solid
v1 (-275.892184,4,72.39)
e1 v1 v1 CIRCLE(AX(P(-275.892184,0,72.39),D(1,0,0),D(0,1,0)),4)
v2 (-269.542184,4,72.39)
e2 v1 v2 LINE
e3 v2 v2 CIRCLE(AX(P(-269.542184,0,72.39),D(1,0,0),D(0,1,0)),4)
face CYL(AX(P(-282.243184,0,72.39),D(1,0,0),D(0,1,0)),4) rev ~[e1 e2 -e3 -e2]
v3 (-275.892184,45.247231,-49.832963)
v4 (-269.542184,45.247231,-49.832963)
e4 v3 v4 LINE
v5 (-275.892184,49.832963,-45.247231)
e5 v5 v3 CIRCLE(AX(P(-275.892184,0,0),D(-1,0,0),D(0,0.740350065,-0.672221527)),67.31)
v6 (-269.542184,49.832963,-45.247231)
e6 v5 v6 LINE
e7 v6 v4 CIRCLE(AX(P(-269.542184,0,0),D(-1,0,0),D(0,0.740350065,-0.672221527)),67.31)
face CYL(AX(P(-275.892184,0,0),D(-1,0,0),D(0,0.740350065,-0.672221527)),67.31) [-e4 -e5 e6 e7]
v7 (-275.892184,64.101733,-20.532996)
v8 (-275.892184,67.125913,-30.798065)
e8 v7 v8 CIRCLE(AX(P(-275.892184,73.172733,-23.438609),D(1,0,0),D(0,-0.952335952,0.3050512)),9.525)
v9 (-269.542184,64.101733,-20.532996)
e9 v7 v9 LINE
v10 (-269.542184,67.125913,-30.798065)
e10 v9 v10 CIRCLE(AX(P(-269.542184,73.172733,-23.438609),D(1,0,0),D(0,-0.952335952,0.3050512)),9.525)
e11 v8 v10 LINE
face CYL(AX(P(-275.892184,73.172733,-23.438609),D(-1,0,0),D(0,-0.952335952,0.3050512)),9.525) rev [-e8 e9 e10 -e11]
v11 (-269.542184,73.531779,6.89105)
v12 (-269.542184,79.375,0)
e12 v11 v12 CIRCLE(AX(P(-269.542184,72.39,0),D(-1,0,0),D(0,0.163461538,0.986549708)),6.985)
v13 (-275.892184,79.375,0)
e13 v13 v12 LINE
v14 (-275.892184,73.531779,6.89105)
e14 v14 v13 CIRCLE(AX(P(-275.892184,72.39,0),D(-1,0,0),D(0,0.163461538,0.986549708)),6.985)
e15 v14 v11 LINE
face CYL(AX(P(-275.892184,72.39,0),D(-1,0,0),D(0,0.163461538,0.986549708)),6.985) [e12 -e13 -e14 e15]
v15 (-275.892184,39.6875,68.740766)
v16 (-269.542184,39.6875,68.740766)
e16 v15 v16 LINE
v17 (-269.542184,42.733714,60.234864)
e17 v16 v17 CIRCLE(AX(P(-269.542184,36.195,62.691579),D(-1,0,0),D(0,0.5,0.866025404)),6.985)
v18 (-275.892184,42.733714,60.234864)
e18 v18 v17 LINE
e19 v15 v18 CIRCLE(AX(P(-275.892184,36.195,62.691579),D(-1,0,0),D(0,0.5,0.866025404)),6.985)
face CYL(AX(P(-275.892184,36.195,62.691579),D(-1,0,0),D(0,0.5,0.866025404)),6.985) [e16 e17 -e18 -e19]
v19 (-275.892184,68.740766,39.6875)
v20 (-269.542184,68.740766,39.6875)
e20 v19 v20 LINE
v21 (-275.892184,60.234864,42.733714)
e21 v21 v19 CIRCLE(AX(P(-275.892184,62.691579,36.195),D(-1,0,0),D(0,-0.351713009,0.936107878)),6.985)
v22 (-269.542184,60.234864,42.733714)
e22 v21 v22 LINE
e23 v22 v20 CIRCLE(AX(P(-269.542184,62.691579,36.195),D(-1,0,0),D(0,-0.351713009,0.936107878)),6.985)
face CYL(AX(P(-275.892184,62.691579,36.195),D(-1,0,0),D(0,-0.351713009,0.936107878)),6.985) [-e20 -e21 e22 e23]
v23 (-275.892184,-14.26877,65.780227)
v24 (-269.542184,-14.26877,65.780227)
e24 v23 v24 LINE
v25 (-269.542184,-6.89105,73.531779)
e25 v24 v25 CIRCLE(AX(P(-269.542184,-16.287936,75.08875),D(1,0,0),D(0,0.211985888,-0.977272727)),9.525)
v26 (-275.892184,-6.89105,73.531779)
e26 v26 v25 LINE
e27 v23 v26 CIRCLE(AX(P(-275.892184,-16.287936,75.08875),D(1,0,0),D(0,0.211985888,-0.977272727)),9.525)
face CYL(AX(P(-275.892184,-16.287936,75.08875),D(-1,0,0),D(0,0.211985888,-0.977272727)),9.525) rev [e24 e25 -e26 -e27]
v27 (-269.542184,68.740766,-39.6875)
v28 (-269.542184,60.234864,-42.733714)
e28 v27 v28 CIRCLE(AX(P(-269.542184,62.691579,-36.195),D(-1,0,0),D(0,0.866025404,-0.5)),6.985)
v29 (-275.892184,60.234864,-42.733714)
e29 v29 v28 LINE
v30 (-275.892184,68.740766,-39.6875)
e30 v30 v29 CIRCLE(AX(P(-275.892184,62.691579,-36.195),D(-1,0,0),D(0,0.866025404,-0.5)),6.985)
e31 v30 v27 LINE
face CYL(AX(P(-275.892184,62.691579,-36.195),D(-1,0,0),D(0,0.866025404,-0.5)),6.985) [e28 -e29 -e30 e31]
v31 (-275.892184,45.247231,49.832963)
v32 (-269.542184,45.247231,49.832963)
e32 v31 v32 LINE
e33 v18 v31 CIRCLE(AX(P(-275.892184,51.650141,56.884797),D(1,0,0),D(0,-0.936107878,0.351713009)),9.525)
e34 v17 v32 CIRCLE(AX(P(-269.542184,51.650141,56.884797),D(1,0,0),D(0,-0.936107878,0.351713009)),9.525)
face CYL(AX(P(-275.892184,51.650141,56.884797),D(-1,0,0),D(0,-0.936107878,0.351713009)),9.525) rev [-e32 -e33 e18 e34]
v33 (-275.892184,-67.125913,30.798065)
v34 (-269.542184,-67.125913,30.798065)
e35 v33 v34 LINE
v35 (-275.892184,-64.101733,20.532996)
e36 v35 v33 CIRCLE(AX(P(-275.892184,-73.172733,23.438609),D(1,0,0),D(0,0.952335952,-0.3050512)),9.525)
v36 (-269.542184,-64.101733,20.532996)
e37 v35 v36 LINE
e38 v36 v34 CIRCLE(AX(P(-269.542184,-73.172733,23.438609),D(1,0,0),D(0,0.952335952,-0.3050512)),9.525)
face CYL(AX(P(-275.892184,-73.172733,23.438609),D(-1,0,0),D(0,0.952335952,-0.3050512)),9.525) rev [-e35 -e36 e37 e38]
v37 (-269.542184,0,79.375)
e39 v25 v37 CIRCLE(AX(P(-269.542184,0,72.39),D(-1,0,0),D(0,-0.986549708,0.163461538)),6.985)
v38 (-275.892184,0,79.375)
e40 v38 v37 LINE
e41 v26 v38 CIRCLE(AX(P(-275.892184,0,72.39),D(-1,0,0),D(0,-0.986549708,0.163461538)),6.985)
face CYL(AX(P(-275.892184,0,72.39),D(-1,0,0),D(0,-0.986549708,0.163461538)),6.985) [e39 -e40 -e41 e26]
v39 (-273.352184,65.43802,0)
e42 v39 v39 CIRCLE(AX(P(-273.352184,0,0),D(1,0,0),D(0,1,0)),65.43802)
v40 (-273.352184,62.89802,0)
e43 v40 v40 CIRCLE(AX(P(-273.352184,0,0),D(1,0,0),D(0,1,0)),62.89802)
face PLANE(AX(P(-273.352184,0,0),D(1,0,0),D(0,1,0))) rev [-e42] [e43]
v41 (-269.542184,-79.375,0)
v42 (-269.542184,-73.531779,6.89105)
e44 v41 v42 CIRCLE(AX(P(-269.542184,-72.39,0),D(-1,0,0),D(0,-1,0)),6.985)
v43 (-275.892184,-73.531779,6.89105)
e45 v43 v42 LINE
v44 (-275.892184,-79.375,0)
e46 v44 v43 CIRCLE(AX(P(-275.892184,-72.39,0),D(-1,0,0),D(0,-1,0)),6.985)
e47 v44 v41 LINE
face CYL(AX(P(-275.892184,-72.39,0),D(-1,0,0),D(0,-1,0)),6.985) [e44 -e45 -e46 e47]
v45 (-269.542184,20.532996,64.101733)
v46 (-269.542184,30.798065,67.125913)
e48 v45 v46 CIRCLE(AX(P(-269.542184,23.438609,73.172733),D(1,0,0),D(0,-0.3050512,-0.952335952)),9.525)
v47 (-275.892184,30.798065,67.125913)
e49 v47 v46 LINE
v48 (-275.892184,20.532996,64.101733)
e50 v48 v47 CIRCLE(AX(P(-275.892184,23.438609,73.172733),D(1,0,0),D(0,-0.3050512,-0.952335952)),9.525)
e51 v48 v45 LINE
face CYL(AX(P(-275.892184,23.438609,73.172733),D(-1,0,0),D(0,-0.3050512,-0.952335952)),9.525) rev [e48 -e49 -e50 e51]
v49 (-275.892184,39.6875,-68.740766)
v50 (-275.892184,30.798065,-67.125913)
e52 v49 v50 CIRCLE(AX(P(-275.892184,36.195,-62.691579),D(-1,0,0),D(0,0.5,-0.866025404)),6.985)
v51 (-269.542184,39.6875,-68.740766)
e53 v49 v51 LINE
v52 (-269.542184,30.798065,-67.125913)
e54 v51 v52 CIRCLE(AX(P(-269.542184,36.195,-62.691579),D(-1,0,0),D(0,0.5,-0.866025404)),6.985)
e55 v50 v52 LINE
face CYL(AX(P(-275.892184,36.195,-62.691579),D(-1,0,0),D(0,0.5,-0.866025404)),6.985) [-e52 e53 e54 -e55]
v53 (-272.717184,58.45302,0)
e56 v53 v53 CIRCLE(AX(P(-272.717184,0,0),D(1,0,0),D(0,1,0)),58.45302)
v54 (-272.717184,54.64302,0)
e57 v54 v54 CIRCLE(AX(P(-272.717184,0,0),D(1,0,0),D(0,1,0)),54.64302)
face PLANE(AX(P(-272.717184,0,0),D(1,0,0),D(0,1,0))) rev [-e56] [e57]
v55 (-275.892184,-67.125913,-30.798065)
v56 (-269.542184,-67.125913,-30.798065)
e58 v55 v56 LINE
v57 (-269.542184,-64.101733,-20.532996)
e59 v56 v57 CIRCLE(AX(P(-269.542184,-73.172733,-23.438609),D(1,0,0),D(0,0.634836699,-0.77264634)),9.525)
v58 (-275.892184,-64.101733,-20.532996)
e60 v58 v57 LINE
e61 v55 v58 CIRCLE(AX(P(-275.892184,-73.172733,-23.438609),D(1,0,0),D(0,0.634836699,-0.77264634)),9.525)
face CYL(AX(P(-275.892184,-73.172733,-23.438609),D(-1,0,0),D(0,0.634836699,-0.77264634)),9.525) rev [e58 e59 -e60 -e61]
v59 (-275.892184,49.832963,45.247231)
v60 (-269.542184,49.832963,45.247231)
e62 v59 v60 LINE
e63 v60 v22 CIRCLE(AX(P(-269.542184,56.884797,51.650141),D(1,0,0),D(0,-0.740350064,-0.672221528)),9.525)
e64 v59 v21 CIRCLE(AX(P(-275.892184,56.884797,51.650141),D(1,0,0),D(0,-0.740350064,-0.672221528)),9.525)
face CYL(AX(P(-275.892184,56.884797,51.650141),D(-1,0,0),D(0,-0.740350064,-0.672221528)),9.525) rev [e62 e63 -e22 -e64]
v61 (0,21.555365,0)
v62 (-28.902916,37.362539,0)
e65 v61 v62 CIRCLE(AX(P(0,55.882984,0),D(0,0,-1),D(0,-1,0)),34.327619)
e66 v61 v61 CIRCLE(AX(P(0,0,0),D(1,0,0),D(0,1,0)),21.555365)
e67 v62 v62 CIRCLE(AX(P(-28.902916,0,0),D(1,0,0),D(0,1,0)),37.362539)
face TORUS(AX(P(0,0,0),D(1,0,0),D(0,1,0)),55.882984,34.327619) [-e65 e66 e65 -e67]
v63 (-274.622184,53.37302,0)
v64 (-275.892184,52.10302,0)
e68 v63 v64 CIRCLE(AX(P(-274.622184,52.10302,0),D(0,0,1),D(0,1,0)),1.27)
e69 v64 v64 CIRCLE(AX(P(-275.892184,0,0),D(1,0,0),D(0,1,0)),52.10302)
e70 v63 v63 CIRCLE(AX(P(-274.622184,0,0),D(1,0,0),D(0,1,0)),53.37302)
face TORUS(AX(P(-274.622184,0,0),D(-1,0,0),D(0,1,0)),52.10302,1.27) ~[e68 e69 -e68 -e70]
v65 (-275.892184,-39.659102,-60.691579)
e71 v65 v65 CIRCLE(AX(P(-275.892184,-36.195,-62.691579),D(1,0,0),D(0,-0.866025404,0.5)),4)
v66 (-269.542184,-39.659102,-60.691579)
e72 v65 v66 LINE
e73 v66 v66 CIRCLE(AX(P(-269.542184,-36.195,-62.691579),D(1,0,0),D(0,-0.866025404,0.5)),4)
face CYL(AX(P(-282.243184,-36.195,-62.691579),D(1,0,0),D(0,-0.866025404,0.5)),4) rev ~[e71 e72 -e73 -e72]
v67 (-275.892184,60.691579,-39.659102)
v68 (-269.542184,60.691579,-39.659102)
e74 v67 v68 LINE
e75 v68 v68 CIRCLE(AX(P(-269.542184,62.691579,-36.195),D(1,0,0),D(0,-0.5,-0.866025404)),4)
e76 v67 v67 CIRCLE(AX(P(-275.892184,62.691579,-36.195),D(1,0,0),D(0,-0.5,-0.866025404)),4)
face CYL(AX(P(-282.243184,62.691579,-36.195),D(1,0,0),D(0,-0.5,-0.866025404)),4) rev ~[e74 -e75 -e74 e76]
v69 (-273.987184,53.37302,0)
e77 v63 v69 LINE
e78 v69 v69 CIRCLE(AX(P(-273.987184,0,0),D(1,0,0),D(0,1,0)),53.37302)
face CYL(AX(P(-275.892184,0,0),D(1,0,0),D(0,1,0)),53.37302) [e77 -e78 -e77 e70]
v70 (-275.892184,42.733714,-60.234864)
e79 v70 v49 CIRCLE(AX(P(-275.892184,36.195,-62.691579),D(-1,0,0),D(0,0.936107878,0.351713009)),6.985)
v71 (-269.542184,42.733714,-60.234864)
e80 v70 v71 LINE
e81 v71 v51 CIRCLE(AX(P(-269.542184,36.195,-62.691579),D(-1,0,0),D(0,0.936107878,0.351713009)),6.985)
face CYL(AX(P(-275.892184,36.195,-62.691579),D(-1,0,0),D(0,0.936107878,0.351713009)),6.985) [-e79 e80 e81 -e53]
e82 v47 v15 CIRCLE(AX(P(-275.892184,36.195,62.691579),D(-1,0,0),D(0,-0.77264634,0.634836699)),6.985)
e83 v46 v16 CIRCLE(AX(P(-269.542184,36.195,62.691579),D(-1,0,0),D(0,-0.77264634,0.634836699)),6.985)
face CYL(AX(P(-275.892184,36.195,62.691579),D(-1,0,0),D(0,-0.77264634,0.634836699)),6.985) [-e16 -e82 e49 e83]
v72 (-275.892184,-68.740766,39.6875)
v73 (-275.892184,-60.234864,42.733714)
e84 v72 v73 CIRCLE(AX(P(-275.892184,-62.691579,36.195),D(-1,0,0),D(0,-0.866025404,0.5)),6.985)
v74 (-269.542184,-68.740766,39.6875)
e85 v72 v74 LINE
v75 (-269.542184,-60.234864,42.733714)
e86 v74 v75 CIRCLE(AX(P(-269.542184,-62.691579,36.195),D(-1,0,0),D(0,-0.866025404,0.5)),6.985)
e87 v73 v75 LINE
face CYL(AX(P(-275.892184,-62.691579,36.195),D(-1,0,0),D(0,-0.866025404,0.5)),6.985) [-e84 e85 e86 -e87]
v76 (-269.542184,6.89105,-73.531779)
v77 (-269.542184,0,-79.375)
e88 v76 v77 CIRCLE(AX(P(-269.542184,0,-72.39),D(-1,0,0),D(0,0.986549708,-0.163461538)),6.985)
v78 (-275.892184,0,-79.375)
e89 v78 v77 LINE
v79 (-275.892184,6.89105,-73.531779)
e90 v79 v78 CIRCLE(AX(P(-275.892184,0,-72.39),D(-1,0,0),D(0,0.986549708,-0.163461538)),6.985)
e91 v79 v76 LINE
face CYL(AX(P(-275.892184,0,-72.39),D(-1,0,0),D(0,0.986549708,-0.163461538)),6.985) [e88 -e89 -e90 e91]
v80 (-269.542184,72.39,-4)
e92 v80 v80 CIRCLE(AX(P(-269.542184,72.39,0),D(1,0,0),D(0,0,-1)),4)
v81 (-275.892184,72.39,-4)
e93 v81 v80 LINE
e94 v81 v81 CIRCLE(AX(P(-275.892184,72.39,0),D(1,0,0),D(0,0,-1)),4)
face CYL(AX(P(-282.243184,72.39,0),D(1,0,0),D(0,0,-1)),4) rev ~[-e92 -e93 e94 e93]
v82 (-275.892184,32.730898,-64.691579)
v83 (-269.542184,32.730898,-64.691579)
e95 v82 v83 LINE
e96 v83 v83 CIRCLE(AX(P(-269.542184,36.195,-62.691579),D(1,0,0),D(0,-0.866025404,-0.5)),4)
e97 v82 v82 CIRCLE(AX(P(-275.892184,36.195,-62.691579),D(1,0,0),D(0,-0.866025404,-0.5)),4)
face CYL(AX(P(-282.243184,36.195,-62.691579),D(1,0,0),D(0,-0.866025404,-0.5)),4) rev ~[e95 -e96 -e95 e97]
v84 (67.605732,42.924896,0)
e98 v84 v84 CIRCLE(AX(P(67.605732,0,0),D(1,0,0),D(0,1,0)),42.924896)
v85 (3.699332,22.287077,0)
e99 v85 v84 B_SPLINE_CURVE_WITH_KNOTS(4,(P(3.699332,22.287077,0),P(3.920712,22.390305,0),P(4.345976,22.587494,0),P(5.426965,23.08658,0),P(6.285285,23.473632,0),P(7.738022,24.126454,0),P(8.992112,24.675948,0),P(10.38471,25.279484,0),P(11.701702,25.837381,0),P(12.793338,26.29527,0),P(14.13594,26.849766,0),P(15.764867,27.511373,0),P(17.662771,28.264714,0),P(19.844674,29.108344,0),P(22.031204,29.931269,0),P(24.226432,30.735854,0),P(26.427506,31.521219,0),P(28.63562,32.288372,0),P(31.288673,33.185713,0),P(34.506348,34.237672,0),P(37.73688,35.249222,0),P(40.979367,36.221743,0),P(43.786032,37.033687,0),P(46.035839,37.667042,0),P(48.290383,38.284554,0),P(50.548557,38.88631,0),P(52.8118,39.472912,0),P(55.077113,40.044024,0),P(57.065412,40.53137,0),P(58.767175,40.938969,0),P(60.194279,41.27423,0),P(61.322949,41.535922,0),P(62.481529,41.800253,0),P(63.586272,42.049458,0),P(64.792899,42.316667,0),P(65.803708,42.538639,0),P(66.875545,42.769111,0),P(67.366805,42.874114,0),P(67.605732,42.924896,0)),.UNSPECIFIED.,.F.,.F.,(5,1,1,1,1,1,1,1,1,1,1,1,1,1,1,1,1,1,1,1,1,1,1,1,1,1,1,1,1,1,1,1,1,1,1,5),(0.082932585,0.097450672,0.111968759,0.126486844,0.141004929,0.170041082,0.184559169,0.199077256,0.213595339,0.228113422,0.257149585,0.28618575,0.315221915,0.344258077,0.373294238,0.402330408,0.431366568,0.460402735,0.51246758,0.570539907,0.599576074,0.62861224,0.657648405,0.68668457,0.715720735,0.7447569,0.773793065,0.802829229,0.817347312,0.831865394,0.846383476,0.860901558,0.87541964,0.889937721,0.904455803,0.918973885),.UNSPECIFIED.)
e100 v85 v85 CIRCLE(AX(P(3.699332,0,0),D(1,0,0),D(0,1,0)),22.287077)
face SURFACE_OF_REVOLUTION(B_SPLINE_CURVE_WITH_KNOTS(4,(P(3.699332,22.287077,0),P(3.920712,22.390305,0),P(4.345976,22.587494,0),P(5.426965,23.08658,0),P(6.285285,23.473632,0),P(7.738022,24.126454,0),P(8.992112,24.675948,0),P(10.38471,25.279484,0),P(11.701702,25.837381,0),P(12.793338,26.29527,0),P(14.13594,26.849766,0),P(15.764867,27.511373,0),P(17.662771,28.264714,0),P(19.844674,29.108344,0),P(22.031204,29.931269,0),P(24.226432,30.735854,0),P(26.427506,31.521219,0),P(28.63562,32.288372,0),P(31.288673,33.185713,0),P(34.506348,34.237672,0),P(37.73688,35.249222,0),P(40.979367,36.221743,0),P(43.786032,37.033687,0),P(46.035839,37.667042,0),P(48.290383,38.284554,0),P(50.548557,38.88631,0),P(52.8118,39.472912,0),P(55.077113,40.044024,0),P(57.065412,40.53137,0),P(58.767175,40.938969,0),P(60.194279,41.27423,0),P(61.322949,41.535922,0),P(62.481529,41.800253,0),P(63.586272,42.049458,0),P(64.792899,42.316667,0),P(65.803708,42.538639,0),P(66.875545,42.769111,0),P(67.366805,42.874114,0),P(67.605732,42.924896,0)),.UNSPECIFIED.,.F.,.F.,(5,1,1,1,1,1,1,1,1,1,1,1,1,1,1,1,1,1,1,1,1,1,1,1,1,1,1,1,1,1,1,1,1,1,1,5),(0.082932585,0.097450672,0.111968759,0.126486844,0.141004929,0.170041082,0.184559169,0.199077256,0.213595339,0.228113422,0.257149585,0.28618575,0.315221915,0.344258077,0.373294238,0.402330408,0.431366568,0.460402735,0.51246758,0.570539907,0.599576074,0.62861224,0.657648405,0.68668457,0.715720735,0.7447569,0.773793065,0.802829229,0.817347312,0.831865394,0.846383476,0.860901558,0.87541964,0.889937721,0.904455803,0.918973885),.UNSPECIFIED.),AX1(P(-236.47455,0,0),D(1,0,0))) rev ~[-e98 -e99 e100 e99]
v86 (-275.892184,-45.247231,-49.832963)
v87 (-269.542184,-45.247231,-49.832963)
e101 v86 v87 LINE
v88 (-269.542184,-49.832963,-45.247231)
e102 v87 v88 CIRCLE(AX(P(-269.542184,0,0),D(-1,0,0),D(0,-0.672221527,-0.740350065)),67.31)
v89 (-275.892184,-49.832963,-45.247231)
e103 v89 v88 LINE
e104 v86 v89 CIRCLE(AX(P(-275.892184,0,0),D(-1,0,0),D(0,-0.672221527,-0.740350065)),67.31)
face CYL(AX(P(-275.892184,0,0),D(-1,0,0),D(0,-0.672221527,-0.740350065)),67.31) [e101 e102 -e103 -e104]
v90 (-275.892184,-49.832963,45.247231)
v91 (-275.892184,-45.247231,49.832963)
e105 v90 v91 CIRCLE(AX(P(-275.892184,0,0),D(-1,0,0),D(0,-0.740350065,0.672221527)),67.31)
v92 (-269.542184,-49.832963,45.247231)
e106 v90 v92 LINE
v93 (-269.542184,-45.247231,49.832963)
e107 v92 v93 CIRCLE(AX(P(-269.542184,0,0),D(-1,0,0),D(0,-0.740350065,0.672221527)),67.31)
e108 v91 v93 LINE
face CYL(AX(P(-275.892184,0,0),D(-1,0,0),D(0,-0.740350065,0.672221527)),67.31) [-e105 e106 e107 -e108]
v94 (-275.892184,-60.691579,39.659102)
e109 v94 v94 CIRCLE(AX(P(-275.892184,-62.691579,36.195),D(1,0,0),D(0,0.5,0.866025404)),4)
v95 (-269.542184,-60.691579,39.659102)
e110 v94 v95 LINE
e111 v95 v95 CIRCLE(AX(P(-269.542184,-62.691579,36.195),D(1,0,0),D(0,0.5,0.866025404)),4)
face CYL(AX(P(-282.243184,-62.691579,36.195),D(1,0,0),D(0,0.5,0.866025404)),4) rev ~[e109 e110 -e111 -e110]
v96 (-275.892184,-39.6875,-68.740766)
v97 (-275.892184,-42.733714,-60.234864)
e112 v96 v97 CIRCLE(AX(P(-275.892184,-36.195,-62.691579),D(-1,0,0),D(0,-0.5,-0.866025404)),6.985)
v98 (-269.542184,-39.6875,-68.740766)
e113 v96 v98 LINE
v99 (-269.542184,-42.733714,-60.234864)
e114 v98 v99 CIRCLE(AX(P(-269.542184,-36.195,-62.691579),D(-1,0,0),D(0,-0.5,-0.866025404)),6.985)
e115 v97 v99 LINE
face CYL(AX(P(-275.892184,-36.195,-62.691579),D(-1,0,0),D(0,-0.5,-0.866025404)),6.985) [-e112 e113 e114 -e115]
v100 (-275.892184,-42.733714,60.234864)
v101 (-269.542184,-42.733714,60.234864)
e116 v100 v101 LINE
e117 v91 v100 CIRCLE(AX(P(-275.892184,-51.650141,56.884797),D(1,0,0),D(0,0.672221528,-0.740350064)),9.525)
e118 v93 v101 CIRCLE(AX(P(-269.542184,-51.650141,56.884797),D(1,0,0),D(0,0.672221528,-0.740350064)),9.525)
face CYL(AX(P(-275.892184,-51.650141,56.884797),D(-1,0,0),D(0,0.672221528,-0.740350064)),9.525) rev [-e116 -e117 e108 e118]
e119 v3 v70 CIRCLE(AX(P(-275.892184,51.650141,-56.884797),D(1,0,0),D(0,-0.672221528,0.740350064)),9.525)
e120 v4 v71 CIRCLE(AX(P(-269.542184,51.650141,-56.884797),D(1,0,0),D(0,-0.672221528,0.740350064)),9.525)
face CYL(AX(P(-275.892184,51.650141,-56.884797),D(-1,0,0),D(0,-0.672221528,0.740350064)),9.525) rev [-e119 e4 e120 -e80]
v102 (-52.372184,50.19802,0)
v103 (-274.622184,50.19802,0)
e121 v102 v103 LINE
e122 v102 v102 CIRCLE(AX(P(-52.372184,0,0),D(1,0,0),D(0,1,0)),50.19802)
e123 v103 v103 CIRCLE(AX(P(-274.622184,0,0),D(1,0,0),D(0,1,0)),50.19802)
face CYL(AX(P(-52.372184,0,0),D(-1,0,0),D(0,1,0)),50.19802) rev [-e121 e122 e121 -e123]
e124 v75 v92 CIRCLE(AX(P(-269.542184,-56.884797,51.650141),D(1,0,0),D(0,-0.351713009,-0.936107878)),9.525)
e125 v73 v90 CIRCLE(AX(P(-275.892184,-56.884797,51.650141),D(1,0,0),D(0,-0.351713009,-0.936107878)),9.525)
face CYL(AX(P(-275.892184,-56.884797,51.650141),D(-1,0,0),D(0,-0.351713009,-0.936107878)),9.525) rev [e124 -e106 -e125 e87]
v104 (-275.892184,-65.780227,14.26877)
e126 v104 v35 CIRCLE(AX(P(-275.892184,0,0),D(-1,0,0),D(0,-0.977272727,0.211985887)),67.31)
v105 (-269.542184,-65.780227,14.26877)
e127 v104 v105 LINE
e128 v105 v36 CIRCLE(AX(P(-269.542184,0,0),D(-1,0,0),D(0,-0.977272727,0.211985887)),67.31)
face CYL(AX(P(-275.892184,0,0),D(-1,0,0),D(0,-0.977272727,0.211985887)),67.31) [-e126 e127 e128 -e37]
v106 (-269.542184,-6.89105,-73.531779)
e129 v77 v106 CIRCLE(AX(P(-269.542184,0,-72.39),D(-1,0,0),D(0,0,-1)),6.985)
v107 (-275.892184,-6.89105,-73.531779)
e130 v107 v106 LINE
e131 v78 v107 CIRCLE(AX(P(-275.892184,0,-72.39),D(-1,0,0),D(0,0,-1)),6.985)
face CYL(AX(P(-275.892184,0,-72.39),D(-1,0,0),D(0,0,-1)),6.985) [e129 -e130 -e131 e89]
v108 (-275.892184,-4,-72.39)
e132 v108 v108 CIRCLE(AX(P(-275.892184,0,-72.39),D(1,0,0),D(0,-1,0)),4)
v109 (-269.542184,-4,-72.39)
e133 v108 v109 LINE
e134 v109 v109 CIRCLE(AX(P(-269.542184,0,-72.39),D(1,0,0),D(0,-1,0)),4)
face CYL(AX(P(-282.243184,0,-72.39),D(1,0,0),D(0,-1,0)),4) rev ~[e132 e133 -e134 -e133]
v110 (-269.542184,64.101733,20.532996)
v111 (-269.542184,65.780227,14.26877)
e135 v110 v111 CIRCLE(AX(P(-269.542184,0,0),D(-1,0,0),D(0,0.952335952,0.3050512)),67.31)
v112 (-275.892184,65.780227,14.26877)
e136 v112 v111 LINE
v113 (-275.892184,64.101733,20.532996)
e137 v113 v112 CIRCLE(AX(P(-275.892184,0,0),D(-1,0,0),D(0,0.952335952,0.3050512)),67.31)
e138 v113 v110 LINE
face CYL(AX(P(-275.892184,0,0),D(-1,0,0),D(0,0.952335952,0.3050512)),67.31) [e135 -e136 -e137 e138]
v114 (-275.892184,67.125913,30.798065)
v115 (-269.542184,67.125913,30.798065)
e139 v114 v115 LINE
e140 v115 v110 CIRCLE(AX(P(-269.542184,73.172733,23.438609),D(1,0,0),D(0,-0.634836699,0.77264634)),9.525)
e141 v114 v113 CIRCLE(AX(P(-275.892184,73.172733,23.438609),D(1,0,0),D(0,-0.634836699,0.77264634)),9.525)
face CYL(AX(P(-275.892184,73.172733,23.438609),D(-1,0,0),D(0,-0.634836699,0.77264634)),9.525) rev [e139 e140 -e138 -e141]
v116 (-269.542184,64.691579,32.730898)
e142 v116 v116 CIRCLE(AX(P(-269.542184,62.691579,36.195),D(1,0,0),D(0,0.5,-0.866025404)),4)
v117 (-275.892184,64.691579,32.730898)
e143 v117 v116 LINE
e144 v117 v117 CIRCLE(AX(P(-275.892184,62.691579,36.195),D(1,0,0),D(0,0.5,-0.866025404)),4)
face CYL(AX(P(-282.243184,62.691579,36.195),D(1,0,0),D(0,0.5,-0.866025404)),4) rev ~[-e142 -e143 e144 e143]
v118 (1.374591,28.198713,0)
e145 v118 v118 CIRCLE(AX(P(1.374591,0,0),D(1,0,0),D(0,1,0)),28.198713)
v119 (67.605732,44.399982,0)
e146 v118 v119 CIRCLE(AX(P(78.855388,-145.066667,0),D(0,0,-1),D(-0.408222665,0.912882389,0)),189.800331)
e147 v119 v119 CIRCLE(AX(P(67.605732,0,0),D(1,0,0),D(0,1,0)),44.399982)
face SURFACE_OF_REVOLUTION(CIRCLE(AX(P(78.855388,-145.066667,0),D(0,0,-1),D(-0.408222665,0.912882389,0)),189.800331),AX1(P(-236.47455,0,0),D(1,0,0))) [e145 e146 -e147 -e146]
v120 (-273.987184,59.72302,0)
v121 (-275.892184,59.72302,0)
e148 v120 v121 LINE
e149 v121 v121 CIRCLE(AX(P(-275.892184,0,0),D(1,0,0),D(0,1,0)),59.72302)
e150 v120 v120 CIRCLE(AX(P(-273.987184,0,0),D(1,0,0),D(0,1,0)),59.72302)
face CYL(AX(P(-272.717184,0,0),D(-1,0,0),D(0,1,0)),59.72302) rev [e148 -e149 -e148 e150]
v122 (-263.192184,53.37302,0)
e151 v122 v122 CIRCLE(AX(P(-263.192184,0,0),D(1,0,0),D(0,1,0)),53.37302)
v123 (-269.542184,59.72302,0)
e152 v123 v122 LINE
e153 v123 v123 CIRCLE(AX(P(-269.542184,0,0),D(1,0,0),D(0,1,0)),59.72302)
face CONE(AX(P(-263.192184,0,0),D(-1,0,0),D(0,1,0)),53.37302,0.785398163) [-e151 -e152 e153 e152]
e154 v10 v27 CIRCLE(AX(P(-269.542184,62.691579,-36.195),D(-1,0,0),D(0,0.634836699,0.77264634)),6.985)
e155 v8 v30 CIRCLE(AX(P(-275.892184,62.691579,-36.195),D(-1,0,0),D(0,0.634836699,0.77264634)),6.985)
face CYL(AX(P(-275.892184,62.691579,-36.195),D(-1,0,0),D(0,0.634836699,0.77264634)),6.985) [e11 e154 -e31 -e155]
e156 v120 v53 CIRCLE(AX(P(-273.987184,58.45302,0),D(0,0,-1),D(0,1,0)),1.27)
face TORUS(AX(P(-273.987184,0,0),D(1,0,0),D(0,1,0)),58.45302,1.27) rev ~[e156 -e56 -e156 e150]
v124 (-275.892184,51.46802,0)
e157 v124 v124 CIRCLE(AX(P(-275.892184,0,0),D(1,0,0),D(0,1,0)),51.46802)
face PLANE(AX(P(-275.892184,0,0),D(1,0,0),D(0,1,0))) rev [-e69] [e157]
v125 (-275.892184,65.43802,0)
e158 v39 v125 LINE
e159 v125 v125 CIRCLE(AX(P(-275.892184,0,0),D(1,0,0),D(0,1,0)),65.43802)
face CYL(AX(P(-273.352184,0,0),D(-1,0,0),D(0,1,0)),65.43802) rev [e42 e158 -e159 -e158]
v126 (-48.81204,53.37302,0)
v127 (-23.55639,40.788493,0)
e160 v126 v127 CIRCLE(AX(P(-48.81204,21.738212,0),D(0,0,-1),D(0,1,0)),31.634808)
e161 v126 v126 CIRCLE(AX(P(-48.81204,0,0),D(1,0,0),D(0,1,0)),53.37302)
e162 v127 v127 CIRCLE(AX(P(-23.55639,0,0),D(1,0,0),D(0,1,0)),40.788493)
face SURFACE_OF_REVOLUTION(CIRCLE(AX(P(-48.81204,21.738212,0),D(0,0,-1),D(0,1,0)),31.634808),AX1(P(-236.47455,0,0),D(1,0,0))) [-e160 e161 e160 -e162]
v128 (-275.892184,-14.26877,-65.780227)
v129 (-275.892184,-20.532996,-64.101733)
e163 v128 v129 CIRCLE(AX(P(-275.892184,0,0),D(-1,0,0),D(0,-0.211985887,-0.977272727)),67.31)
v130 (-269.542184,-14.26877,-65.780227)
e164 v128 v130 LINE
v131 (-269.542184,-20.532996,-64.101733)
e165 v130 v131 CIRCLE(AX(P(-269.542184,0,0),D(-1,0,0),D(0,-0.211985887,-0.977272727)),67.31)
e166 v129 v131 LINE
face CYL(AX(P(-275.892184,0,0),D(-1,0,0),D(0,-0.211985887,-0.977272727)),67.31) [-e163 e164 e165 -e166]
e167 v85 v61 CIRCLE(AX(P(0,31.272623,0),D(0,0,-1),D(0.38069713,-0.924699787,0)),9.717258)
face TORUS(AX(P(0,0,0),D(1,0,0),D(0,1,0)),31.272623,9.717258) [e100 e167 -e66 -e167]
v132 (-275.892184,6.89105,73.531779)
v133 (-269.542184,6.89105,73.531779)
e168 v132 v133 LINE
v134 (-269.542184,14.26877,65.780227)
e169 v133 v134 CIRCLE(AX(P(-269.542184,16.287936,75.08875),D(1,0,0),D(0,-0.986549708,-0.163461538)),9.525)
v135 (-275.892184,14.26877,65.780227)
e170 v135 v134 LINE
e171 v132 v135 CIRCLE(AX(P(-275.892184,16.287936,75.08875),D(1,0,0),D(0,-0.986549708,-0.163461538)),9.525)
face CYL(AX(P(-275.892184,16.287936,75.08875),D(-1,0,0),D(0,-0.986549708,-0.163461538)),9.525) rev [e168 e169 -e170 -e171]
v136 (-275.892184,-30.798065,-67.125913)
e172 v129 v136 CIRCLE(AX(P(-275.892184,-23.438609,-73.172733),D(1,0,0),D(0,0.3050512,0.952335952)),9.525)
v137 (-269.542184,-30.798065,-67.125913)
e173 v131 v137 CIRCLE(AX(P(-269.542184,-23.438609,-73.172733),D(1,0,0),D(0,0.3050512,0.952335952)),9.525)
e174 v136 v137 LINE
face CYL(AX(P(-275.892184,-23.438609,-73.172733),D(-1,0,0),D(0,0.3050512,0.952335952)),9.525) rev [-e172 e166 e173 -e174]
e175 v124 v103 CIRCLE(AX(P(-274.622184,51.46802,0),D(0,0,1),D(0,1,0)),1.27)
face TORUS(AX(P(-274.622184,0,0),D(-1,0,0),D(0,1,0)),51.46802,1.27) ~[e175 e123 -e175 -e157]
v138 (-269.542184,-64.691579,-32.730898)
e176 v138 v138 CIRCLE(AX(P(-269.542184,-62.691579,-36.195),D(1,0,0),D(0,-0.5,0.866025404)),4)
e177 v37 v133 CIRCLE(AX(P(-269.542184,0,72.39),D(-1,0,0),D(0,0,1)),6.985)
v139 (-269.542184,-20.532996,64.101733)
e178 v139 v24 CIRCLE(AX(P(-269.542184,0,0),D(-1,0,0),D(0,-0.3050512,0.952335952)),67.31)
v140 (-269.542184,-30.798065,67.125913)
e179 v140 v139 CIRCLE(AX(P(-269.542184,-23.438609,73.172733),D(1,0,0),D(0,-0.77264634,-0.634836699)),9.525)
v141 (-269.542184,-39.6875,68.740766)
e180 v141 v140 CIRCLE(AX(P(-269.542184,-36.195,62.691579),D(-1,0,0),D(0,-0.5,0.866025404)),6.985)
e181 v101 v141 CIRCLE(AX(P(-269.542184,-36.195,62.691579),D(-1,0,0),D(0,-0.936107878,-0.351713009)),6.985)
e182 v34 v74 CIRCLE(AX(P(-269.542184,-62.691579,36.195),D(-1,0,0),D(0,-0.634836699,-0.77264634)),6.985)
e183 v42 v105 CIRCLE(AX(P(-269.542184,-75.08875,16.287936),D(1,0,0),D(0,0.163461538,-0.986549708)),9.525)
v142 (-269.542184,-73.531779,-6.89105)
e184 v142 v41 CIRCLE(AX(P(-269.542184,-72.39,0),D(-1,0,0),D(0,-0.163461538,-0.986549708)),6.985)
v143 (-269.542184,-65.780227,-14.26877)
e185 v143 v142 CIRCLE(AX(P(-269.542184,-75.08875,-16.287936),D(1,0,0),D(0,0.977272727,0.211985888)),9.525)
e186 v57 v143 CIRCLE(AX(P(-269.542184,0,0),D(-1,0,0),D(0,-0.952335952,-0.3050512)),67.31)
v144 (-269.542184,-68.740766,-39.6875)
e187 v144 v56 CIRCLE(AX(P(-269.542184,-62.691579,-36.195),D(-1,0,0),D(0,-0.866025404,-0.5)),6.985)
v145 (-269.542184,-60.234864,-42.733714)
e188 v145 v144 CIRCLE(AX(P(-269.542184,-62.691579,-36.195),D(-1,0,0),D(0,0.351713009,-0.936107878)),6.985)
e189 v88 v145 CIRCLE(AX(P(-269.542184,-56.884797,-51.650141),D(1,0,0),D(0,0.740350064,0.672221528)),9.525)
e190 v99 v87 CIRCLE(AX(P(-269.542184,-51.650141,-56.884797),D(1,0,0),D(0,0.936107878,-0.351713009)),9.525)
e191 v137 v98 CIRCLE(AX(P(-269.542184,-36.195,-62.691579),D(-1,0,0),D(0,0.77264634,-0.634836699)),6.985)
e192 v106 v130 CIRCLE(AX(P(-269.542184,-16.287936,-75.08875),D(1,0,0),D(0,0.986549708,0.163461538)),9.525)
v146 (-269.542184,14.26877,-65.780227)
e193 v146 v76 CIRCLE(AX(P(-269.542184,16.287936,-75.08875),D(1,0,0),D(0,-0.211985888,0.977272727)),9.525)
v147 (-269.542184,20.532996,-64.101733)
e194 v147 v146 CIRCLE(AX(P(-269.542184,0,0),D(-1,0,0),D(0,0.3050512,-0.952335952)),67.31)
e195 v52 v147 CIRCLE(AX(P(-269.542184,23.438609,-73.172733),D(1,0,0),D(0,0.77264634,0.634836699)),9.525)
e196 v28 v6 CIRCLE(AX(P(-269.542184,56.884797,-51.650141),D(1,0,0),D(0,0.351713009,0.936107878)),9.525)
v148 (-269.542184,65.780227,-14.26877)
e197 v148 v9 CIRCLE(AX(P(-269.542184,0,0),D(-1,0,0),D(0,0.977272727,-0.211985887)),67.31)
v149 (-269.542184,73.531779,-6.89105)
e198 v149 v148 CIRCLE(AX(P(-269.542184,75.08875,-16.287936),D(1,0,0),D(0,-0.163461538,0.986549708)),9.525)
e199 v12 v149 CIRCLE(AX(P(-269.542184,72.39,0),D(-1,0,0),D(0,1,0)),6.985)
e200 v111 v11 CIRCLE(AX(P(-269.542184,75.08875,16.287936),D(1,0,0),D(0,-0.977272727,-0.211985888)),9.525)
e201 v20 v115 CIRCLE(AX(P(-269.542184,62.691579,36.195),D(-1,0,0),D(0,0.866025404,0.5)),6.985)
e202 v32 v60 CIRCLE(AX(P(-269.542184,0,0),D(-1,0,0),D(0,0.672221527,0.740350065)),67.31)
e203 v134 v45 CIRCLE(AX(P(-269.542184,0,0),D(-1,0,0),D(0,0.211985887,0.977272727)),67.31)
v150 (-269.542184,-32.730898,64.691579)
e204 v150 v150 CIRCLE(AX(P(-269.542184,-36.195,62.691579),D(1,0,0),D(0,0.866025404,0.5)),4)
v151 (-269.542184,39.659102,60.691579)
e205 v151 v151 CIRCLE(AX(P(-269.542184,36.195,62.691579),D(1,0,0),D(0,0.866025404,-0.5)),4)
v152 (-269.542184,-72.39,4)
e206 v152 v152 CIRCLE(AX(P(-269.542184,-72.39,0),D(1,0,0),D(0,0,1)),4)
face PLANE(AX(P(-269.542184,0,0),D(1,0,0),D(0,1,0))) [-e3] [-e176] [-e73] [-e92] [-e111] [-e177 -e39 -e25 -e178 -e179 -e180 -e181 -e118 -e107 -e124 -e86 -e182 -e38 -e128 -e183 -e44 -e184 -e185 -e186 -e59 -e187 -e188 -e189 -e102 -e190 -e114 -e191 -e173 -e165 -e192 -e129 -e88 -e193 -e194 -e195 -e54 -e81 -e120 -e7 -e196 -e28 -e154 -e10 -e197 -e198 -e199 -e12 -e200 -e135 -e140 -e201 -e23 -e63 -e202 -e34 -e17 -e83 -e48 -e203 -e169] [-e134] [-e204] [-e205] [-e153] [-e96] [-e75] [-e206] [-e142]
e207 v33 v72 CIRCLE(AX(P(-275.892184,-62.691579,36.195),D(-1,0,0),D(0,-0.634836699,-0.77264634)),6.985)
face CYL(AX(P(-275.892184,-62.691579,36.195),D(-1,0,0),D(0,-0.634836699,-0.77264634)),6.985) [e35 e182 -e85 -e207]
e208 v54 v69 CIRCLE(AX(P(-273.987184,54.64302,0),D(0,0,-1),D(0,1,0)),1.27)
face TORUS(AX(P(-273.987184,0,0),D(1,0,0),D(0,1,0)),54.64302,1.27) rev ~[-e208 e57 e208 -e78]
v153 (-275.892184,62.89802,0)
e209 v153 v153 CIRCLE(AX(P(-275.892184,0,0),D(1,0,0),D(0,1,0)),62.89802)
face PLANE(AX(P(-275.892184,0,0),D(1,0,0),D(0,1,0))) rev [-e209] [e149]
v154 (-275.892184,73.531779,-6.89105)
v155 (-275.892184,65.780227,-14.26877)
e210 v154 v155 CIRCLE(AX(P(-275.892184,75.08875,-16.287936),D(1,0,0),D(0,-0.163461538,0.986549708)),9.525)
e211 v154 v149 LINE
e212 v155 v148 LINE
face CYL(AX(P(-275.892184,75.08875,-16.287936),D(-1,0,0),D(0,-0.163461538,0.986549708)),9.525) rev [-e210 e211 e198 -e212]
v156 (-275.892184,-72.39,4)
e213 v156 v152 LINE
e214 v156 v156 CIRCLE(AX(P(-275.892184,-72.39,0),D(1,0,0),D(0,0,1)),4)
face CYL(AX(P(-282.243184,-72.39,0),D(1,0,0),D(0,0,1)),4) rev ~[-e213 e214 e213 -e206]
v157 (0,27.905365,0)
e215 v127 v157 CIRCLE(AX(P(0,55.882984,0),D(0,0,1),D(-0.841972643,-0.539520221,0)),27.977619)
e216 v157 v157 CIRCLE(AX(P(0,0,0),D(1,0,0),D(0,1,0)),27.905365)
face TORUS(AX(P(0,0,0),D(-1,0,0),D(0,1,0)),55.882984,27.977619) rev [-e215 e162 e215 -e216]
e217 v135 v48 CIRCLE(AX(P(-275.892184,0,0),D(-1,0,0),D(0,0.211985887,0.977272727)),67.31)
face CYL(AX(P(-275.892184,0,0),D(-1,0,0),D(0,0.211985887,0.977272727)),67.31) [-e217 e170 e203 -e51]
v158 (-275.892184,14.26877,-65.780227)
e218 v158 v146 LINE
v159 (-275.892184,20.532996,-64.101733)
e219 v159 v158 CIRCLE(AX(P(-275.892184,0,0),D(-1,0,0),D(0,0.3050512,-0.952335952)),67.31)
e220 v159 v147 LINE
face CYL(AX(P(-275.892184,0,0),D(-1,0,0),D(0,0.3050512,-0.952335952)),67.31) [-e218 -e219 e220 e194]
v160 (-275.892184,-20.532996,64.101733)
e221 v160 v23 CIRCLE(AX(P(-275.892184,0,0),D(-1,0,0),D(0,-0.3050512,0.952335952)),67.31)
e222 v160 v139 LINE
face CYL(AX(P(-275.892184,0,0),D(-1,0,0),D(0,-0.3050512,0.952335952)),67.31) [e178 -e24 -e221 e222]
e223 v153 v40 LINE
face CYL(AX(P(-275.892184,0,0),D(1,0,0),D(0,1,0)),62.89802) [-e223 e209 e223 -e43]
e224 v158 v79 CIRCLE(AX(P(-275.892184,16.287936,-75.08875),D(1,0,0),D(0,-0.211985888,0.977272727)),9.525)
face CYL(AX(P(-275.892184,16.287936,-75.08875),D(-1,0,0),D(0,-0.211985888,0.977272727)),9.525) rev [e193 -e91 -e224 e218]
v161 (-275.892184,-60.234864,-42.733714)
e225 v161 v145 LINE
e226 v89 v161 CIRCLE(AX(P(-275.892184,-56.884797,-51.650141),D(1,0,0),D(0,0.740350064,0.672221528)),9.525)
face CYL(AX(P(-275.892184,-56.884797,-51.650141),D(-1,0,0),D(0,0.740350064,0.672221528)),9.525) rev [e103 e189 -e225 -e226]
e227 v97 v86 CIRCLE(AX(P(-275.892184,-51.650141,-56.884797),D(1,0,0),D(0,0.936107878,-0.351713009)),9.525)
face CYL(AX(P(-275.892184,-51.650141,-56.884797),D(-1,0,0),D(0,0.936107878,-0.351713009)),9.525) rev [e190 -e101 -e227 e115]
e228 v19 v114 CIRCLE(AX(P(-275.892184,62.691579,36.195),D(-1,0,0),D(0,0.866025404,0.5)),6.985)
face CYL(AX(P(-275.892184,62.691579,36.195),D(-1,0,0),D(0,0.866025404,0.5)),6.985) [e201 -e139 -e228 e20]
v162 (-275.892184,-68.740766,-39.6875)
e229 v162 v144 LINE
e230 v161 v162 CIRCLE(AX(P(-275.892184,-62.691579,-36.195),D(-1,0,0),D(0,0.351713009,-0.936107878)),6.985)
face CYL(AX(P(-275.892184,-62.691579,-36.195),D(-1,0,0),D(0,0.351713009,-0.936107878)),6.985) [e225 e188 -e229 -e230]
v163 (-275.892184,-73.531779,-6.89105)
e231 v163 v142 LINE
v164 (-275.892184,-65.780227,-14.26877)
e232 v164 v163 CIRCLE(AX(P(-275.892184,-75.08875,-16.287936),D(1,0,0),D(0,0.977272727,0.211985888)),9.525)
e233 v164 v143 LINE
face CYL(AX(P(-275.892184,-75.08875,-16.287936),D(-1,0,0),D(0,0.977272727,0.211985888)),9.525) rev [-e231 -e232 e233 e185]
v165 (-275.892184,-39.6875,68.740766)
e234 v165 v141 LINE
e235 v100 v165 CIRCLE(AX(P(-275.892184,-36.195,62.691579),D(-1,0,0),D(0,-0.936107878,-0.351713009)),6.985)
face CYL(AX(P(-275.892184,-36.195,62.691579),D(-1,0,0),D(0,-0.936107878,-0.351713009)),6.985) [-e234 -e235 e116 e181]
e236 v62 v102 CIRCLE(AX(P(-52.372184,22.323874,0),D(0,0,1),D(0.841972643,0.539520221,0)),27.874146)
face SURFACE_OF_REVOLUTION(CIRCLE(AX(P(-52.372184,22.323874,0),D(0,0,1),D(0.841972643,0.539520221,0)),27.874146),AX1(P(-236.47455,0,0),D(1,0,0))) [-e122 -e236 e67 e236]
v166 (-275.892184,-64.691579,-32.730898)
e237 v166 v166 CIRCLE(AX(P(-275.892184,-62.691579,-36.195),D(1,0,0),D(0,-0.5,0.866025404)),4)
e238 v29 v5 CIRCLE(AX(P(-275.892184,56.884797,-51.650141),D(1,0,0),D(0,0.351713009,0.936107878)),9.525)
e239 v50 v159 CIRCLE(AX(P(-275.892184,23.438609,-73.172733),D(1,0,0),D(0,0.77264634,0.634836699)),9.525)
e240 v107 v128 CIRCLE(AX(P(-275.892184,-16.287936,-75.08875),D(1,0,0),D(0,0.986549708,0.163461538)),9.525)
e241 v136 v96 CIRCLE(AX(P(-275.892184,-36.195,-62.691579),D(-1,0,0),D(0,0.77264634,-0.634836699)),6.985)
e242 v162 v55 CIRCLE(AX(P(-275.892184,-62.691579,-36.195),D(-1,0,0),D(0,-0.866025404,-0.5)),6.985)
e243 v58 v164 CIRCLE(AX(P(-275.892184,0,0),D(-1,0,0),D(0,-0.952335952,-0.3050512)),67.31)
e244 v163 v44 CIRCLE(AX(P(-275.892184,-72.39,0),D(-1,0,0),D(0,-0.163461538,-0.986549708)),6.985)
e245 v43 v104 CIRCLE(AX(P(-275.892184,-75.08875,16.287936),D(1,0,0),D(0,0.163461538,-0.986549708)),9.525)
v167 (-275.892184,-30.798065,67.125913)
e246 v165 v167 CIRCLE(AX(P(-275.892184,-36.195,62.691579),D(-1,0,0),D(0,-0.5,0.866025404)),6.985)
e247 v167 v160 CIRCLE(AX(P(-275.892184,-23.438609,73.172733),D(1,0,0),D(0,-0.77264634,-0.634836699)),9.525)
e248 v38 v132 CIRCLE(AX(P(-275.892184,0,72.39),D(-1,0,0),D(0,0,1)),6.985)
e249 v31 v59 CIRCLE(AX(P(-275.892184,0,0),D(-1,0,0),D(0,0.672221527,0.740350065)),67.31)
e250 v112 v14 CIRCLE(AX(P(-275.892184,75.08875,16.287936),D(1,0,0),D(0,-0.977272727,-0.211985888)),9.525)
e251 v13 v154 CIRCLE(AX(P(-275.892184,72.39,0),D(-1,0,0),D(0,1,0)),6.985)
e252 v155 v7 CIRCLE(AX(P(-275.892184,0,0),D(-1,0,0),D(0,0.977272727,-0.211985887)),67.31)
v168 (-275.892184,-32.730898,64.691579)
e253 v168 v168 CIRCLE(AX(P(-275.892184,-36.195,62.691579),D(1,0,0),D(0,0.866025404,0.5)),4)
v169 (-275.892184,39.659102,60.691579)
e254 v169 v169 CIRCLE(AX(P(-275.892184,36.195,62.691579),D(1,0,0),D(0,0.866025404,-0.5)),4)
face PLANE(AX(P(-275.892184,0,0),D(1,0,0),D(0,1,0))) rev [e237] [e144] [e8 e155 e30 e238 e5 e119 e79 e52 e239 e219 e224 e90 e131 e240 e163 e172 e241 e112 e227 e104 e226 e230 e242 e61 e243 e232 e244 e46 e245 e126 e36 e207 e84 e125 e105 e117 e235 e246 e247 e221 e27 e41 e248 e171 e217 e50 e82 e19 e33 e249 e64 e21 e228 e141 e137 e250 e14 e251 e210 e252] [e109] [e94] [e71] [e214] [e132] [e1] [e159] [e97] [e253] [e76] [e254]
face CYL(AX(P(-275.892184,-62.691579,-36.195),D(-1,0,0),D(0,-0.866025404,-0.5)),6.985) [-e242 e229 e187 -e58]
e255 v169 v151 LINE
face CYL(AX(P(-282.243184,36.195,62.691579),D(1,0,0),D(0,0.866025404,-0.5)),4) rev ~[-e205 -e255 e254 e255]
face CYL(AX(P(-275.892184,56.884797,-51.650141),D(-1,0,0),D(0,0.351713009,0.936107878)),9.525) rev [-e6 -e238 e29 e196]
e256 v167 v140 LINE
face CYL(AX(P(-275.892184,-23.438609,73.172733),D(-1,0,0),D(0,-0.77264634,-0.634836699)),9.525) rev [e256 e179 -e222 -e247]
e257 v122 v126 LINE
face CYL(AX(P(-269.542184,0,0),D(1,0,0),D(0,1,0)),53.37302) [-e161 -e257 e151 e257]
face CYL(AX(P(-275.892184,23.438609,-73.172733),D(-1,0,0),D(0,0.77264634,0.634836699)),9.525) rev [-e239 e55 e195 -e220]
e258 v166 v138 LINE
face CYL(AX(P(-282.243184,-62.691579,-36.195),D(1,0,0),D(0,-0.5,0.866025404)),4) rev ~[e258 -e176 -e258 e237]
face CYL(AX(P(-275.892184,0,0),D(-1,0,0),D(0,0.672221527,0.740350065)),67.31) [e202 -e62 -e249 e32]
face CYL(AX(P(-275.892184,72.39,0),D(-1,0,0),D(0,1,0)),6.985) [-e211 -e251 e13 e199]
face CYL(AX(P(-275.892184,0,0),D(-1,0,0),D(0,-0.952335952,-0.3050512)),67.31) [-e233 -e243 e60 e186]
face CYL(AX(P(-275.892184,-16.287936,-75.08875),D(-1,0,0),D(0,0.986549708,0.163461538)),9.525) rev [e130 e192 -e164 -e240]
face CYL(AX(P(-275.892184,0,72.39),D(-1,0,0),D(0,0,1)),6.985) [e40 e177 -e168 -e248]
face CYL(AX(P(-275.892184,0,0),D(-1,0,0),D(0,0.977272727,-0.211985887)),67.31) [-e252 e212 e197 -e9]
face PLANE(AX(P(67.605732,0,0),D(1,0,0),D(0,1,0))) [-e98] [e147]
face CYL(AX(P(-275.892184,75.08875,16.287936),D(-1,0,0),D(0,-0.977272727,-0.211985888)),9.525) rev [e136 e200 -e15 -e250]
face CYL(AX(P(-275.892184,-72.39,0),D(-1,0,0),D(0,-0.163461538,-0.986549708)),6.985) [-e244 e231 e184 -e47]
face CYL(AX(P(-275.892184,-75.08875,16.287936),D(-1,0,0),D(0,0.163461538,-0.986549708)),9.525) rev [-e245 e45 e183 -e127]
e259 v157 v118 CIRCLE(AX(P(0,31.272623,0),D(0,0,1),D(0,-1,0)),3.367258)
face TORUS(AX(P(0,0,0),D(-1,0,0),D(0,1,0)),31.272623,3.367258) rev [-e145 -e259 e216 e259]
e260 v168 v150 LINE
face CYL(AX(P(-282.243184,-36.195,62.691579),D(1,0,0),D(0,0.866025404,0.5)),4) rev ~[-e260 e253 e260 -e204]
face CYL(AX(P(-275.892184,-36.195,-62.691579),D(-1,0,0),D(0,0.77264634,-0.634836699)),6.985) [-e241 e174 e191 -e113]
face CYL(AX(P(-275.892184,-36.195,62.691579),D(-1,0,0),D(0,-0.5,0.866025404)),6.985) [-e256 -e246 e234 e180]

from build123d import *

# Parameters (mm, degrees)
CHAMFER1_SIZE      = 6.35
FILLET1_R          = 1.27
HOLE2_D            = 8
HOLE2_DEPTH        = 6.351
CIRPATTERN3_COUNT  = 12
CUT_EXTRUDE1_DEPTH = 6.35
CIRPATTERN4_COUNT  = 12


with BuildPart() as part:
    # Sketch1 → Revolve1 (revolve)
    with BuildSketch(Plane.XY):
        with BuildLine():
            Line((67.605732053, 44.399981539), (67.605732053, 42.924896029))
            add(Edge.make_bspline(
                [(3.699332053, 22.287076755), (3.920712382, 22.390304603), (4.345976214, 22.587493688), (5.426964621, 23.086580245), (6.285284861, 23.473631857), (7.738021552, 24.126454308), (8.992112304, 24.675947976), (10.384710428, 25.279484402), (11.70170182, 25.837381302), (12.793338352, 26.295269866), (14.135940428, 26.849765516), (15.764867402, 27.511372995), (17.662770861, 28.264713625), (19.844674272, 29.108343585), (22.031204137, 29.931269352), (24.226431999, 30.735853811), (26.427505676, 31.521219446), (28.635619952, 32.288372028), (31.288672745, 33.185713053), (34.506348054, 34.237672022), (37.736879791, 35.249222432), (40.979366995, 36.221743138), (43.786032375, 37.033687046), (46.035838807, 37.667041581), (48.290382755, 38.284554294), (50.548556834, 38.886309744), (52.811800297, 39.472911817), (55.07711252, 40.044024319), (57.06541171, 40.531369751), (58.767174947, 40.938968781), (60.19427876, 41.274230025), (61.322948972, 41.535921755), (62.48152855, 41.800252837), (63.586271633, 42.049457669), (64.79289936, 42.316666922), (65.80370836, 42.538638984), (66.875545368, 42.769110626), (67.366804545, 42.874113683), (67.605732053, 42.924896029)],
                knots=[0.082932585, 0.082932585, 0.082932585, 0.082932585, 0.082932585, 0.097450672, 0.111968759, 0.126486844, 0.141004929, 0.170041082, 0.184559169, 0.199077256, 0.213595339, 0.228113422, 0.257149585, 0.28618575, 0.315221915, 0.344258077, 0.373294238, 0.402330408, 0.431366568, 0.460402735, 0.51246758, 0.570539907, 0.599576074, 0.62861224, 0.657648405, 0.68668457, 0.715720735, 0.7447569, 0.773793065, 0.802829229, 0.817347312, 0.831865394, 0.846383476, 0.860901558, 0.87541964, 0.889937721, 0.904455803, 0.918973885, 0.918973885, 0.918973885, 0.918973885, 0.918973885], degree=4))
            ThreePointArc((3.699332053, 22.287076755), (1.885501224, 21.740048091), (0, 21.555365189))
            ThreePointArc((0, 21.555365189), (-16.471530776, 25.76531333), (-28.902915867, 37.362539472))
            ThreePointArc((-28.902915867, 37.362539472), (-38.997243823, 46.779527458), (-52.372184136, 50.19802))
            Line((-52.372184136, 50.19802), (-275.892184136, 50.19802))
            Line((-275.892184136, 50.19802), (-275.892184136, 53.37302))
            Line((-275.892184136, 53.37302), (-272.717184136, 53.37302))
            Line((-272.717184136, 53.37302), (-272.717184136, 59.72302))
            Line((-272.717184136, 59.72302), (-275.892184136, 59.72302))
            Line((-275.892184136, 59.72302), (-275.892184136, 62.89802))
            Line((-275.892184136, 62.89802), (-273.352184136, 62.89802))
            Line((-273.352184136, 62.89802), (-273.352184136, 65.43802))
            Line((-273.352184136, 65.43802), (-275.892184136, 65.43802))
            Line((-275.892184136, 65.43802), (-275.892184136, 79.375))
            Line((-275.892184136, 79.375), (-269.542184136, 79.375))
            Line((-269.542184136, 79.375), (-269.542184136, 53.37302))
            Line((-269.542184136, 53.37302), (-48.81204017, 53.37302))
            ThreePointArc((-48.81204017, 53.37302), (-34.703370767, 50.052634609), (-23.556389587, 40.788492877))
            ThreePointArc((-23.556389587, 40.788492877), (-13.424590025, 31.336547669), (0, 27.905365189))
            ThreePointArc((0, 27.905365189), (0.702771779, 27.979518545), (1.374590841, 28.19871262))
            ThreePointArc((1.374590841, 28.19871262), (33.756678416, 39.297841731), (67.605732053, 44.399981539))
        make_face()
    revolve(axis=Axis((-236.474550185, 0, 0), (1, 0, 0)))

    # Chamfer1
    chamfer1_edges = [part.edges().sort_by_distance(p)[0] for p in [
        (-269.542184136, -53.37302, 0),
    ]]
    chamfer(chamfer1_edges, length=CHAMFER1_SIZE)

    # Fillet1
    fillet1_edges = [part.edges().sort_by_distance(p)[0] for p in [
        (-272.717184136, -59.72302, 0),
        (-272.717184136, -53.37302, 0),
        (-275.892184136, -53.37302, 0),
        (-275.892184136, -50.19802, 0),
    ]]
    fillet(fillet1_edges, radius=FILLET1_R)

    # Hole2
    with Locations(Plane.ZY.offset(275.892184136)):
        with Locations((0, 72.39)):
            hole2 = Hole(HOLE2_D / 2, depth=HOLE2_DEPTH)

    # CirPattern3: Hole2 ×12 about axis
    cirpattern3_axis = Axis((0, 0, 0), (1, 0, 0))
    for i in range(1, CIRPATTERN3_COUNT):
        add(hole2.rotate(cirpattern3_axis, i * 360 / CIRPATTERN3_COUNT), mode=Mode.SUBTRACT)

    # Sketch11 → Cut-Extrude1 (cut)
    with BuildSketch(Plane.ZY.offset(275.892184136)):
        with BuildLine():
            ThreePointArc((79.375, 0), (77.717548697, 4.517460557), (73.531778846, 6.891049707))
            ThreePointArc((73.531778846, 6.891049707), (68.521982999, 9.388428721), (65.780227273, 14.268770092))
            ThreePointArc((65.780227273, 14.268770092), (65.016467368, 17.421109926), (64.101732931, 20.532996256))
            ThreePointArc((64.101732931, 20.532996256), (64.035992356, 26.130373726), (67.12591332, 30.798065318))
            ThreePointArc((67.12591332, 30.798065318), (69.56410177, 34.946538746), (68.740766425, 39.6875))
            ThreePointArc((68.740766425, 39.6875), (76.670362462, 20.543761705), (79.375, 0))
        make_face()
    cut_extrude1 = extrude(amount=-CUT_EXTRUDE1_DEPTH, mode=Mode.SUBTRACT)

    # CirPattern4: Cut-Extrude1 ×12 about axis
    cirpattern4_axis = Axis((0, 0, 0), (1, 0, 0))
    for i in range(1, CIRPATTERN4_COUNT):
        add(cut_extrude1.rotate(cirpattern4_axis, i * 360 / CIRPATTERN4_COUNT), mode=Mode.SUBTRACT)


solid = part.part
